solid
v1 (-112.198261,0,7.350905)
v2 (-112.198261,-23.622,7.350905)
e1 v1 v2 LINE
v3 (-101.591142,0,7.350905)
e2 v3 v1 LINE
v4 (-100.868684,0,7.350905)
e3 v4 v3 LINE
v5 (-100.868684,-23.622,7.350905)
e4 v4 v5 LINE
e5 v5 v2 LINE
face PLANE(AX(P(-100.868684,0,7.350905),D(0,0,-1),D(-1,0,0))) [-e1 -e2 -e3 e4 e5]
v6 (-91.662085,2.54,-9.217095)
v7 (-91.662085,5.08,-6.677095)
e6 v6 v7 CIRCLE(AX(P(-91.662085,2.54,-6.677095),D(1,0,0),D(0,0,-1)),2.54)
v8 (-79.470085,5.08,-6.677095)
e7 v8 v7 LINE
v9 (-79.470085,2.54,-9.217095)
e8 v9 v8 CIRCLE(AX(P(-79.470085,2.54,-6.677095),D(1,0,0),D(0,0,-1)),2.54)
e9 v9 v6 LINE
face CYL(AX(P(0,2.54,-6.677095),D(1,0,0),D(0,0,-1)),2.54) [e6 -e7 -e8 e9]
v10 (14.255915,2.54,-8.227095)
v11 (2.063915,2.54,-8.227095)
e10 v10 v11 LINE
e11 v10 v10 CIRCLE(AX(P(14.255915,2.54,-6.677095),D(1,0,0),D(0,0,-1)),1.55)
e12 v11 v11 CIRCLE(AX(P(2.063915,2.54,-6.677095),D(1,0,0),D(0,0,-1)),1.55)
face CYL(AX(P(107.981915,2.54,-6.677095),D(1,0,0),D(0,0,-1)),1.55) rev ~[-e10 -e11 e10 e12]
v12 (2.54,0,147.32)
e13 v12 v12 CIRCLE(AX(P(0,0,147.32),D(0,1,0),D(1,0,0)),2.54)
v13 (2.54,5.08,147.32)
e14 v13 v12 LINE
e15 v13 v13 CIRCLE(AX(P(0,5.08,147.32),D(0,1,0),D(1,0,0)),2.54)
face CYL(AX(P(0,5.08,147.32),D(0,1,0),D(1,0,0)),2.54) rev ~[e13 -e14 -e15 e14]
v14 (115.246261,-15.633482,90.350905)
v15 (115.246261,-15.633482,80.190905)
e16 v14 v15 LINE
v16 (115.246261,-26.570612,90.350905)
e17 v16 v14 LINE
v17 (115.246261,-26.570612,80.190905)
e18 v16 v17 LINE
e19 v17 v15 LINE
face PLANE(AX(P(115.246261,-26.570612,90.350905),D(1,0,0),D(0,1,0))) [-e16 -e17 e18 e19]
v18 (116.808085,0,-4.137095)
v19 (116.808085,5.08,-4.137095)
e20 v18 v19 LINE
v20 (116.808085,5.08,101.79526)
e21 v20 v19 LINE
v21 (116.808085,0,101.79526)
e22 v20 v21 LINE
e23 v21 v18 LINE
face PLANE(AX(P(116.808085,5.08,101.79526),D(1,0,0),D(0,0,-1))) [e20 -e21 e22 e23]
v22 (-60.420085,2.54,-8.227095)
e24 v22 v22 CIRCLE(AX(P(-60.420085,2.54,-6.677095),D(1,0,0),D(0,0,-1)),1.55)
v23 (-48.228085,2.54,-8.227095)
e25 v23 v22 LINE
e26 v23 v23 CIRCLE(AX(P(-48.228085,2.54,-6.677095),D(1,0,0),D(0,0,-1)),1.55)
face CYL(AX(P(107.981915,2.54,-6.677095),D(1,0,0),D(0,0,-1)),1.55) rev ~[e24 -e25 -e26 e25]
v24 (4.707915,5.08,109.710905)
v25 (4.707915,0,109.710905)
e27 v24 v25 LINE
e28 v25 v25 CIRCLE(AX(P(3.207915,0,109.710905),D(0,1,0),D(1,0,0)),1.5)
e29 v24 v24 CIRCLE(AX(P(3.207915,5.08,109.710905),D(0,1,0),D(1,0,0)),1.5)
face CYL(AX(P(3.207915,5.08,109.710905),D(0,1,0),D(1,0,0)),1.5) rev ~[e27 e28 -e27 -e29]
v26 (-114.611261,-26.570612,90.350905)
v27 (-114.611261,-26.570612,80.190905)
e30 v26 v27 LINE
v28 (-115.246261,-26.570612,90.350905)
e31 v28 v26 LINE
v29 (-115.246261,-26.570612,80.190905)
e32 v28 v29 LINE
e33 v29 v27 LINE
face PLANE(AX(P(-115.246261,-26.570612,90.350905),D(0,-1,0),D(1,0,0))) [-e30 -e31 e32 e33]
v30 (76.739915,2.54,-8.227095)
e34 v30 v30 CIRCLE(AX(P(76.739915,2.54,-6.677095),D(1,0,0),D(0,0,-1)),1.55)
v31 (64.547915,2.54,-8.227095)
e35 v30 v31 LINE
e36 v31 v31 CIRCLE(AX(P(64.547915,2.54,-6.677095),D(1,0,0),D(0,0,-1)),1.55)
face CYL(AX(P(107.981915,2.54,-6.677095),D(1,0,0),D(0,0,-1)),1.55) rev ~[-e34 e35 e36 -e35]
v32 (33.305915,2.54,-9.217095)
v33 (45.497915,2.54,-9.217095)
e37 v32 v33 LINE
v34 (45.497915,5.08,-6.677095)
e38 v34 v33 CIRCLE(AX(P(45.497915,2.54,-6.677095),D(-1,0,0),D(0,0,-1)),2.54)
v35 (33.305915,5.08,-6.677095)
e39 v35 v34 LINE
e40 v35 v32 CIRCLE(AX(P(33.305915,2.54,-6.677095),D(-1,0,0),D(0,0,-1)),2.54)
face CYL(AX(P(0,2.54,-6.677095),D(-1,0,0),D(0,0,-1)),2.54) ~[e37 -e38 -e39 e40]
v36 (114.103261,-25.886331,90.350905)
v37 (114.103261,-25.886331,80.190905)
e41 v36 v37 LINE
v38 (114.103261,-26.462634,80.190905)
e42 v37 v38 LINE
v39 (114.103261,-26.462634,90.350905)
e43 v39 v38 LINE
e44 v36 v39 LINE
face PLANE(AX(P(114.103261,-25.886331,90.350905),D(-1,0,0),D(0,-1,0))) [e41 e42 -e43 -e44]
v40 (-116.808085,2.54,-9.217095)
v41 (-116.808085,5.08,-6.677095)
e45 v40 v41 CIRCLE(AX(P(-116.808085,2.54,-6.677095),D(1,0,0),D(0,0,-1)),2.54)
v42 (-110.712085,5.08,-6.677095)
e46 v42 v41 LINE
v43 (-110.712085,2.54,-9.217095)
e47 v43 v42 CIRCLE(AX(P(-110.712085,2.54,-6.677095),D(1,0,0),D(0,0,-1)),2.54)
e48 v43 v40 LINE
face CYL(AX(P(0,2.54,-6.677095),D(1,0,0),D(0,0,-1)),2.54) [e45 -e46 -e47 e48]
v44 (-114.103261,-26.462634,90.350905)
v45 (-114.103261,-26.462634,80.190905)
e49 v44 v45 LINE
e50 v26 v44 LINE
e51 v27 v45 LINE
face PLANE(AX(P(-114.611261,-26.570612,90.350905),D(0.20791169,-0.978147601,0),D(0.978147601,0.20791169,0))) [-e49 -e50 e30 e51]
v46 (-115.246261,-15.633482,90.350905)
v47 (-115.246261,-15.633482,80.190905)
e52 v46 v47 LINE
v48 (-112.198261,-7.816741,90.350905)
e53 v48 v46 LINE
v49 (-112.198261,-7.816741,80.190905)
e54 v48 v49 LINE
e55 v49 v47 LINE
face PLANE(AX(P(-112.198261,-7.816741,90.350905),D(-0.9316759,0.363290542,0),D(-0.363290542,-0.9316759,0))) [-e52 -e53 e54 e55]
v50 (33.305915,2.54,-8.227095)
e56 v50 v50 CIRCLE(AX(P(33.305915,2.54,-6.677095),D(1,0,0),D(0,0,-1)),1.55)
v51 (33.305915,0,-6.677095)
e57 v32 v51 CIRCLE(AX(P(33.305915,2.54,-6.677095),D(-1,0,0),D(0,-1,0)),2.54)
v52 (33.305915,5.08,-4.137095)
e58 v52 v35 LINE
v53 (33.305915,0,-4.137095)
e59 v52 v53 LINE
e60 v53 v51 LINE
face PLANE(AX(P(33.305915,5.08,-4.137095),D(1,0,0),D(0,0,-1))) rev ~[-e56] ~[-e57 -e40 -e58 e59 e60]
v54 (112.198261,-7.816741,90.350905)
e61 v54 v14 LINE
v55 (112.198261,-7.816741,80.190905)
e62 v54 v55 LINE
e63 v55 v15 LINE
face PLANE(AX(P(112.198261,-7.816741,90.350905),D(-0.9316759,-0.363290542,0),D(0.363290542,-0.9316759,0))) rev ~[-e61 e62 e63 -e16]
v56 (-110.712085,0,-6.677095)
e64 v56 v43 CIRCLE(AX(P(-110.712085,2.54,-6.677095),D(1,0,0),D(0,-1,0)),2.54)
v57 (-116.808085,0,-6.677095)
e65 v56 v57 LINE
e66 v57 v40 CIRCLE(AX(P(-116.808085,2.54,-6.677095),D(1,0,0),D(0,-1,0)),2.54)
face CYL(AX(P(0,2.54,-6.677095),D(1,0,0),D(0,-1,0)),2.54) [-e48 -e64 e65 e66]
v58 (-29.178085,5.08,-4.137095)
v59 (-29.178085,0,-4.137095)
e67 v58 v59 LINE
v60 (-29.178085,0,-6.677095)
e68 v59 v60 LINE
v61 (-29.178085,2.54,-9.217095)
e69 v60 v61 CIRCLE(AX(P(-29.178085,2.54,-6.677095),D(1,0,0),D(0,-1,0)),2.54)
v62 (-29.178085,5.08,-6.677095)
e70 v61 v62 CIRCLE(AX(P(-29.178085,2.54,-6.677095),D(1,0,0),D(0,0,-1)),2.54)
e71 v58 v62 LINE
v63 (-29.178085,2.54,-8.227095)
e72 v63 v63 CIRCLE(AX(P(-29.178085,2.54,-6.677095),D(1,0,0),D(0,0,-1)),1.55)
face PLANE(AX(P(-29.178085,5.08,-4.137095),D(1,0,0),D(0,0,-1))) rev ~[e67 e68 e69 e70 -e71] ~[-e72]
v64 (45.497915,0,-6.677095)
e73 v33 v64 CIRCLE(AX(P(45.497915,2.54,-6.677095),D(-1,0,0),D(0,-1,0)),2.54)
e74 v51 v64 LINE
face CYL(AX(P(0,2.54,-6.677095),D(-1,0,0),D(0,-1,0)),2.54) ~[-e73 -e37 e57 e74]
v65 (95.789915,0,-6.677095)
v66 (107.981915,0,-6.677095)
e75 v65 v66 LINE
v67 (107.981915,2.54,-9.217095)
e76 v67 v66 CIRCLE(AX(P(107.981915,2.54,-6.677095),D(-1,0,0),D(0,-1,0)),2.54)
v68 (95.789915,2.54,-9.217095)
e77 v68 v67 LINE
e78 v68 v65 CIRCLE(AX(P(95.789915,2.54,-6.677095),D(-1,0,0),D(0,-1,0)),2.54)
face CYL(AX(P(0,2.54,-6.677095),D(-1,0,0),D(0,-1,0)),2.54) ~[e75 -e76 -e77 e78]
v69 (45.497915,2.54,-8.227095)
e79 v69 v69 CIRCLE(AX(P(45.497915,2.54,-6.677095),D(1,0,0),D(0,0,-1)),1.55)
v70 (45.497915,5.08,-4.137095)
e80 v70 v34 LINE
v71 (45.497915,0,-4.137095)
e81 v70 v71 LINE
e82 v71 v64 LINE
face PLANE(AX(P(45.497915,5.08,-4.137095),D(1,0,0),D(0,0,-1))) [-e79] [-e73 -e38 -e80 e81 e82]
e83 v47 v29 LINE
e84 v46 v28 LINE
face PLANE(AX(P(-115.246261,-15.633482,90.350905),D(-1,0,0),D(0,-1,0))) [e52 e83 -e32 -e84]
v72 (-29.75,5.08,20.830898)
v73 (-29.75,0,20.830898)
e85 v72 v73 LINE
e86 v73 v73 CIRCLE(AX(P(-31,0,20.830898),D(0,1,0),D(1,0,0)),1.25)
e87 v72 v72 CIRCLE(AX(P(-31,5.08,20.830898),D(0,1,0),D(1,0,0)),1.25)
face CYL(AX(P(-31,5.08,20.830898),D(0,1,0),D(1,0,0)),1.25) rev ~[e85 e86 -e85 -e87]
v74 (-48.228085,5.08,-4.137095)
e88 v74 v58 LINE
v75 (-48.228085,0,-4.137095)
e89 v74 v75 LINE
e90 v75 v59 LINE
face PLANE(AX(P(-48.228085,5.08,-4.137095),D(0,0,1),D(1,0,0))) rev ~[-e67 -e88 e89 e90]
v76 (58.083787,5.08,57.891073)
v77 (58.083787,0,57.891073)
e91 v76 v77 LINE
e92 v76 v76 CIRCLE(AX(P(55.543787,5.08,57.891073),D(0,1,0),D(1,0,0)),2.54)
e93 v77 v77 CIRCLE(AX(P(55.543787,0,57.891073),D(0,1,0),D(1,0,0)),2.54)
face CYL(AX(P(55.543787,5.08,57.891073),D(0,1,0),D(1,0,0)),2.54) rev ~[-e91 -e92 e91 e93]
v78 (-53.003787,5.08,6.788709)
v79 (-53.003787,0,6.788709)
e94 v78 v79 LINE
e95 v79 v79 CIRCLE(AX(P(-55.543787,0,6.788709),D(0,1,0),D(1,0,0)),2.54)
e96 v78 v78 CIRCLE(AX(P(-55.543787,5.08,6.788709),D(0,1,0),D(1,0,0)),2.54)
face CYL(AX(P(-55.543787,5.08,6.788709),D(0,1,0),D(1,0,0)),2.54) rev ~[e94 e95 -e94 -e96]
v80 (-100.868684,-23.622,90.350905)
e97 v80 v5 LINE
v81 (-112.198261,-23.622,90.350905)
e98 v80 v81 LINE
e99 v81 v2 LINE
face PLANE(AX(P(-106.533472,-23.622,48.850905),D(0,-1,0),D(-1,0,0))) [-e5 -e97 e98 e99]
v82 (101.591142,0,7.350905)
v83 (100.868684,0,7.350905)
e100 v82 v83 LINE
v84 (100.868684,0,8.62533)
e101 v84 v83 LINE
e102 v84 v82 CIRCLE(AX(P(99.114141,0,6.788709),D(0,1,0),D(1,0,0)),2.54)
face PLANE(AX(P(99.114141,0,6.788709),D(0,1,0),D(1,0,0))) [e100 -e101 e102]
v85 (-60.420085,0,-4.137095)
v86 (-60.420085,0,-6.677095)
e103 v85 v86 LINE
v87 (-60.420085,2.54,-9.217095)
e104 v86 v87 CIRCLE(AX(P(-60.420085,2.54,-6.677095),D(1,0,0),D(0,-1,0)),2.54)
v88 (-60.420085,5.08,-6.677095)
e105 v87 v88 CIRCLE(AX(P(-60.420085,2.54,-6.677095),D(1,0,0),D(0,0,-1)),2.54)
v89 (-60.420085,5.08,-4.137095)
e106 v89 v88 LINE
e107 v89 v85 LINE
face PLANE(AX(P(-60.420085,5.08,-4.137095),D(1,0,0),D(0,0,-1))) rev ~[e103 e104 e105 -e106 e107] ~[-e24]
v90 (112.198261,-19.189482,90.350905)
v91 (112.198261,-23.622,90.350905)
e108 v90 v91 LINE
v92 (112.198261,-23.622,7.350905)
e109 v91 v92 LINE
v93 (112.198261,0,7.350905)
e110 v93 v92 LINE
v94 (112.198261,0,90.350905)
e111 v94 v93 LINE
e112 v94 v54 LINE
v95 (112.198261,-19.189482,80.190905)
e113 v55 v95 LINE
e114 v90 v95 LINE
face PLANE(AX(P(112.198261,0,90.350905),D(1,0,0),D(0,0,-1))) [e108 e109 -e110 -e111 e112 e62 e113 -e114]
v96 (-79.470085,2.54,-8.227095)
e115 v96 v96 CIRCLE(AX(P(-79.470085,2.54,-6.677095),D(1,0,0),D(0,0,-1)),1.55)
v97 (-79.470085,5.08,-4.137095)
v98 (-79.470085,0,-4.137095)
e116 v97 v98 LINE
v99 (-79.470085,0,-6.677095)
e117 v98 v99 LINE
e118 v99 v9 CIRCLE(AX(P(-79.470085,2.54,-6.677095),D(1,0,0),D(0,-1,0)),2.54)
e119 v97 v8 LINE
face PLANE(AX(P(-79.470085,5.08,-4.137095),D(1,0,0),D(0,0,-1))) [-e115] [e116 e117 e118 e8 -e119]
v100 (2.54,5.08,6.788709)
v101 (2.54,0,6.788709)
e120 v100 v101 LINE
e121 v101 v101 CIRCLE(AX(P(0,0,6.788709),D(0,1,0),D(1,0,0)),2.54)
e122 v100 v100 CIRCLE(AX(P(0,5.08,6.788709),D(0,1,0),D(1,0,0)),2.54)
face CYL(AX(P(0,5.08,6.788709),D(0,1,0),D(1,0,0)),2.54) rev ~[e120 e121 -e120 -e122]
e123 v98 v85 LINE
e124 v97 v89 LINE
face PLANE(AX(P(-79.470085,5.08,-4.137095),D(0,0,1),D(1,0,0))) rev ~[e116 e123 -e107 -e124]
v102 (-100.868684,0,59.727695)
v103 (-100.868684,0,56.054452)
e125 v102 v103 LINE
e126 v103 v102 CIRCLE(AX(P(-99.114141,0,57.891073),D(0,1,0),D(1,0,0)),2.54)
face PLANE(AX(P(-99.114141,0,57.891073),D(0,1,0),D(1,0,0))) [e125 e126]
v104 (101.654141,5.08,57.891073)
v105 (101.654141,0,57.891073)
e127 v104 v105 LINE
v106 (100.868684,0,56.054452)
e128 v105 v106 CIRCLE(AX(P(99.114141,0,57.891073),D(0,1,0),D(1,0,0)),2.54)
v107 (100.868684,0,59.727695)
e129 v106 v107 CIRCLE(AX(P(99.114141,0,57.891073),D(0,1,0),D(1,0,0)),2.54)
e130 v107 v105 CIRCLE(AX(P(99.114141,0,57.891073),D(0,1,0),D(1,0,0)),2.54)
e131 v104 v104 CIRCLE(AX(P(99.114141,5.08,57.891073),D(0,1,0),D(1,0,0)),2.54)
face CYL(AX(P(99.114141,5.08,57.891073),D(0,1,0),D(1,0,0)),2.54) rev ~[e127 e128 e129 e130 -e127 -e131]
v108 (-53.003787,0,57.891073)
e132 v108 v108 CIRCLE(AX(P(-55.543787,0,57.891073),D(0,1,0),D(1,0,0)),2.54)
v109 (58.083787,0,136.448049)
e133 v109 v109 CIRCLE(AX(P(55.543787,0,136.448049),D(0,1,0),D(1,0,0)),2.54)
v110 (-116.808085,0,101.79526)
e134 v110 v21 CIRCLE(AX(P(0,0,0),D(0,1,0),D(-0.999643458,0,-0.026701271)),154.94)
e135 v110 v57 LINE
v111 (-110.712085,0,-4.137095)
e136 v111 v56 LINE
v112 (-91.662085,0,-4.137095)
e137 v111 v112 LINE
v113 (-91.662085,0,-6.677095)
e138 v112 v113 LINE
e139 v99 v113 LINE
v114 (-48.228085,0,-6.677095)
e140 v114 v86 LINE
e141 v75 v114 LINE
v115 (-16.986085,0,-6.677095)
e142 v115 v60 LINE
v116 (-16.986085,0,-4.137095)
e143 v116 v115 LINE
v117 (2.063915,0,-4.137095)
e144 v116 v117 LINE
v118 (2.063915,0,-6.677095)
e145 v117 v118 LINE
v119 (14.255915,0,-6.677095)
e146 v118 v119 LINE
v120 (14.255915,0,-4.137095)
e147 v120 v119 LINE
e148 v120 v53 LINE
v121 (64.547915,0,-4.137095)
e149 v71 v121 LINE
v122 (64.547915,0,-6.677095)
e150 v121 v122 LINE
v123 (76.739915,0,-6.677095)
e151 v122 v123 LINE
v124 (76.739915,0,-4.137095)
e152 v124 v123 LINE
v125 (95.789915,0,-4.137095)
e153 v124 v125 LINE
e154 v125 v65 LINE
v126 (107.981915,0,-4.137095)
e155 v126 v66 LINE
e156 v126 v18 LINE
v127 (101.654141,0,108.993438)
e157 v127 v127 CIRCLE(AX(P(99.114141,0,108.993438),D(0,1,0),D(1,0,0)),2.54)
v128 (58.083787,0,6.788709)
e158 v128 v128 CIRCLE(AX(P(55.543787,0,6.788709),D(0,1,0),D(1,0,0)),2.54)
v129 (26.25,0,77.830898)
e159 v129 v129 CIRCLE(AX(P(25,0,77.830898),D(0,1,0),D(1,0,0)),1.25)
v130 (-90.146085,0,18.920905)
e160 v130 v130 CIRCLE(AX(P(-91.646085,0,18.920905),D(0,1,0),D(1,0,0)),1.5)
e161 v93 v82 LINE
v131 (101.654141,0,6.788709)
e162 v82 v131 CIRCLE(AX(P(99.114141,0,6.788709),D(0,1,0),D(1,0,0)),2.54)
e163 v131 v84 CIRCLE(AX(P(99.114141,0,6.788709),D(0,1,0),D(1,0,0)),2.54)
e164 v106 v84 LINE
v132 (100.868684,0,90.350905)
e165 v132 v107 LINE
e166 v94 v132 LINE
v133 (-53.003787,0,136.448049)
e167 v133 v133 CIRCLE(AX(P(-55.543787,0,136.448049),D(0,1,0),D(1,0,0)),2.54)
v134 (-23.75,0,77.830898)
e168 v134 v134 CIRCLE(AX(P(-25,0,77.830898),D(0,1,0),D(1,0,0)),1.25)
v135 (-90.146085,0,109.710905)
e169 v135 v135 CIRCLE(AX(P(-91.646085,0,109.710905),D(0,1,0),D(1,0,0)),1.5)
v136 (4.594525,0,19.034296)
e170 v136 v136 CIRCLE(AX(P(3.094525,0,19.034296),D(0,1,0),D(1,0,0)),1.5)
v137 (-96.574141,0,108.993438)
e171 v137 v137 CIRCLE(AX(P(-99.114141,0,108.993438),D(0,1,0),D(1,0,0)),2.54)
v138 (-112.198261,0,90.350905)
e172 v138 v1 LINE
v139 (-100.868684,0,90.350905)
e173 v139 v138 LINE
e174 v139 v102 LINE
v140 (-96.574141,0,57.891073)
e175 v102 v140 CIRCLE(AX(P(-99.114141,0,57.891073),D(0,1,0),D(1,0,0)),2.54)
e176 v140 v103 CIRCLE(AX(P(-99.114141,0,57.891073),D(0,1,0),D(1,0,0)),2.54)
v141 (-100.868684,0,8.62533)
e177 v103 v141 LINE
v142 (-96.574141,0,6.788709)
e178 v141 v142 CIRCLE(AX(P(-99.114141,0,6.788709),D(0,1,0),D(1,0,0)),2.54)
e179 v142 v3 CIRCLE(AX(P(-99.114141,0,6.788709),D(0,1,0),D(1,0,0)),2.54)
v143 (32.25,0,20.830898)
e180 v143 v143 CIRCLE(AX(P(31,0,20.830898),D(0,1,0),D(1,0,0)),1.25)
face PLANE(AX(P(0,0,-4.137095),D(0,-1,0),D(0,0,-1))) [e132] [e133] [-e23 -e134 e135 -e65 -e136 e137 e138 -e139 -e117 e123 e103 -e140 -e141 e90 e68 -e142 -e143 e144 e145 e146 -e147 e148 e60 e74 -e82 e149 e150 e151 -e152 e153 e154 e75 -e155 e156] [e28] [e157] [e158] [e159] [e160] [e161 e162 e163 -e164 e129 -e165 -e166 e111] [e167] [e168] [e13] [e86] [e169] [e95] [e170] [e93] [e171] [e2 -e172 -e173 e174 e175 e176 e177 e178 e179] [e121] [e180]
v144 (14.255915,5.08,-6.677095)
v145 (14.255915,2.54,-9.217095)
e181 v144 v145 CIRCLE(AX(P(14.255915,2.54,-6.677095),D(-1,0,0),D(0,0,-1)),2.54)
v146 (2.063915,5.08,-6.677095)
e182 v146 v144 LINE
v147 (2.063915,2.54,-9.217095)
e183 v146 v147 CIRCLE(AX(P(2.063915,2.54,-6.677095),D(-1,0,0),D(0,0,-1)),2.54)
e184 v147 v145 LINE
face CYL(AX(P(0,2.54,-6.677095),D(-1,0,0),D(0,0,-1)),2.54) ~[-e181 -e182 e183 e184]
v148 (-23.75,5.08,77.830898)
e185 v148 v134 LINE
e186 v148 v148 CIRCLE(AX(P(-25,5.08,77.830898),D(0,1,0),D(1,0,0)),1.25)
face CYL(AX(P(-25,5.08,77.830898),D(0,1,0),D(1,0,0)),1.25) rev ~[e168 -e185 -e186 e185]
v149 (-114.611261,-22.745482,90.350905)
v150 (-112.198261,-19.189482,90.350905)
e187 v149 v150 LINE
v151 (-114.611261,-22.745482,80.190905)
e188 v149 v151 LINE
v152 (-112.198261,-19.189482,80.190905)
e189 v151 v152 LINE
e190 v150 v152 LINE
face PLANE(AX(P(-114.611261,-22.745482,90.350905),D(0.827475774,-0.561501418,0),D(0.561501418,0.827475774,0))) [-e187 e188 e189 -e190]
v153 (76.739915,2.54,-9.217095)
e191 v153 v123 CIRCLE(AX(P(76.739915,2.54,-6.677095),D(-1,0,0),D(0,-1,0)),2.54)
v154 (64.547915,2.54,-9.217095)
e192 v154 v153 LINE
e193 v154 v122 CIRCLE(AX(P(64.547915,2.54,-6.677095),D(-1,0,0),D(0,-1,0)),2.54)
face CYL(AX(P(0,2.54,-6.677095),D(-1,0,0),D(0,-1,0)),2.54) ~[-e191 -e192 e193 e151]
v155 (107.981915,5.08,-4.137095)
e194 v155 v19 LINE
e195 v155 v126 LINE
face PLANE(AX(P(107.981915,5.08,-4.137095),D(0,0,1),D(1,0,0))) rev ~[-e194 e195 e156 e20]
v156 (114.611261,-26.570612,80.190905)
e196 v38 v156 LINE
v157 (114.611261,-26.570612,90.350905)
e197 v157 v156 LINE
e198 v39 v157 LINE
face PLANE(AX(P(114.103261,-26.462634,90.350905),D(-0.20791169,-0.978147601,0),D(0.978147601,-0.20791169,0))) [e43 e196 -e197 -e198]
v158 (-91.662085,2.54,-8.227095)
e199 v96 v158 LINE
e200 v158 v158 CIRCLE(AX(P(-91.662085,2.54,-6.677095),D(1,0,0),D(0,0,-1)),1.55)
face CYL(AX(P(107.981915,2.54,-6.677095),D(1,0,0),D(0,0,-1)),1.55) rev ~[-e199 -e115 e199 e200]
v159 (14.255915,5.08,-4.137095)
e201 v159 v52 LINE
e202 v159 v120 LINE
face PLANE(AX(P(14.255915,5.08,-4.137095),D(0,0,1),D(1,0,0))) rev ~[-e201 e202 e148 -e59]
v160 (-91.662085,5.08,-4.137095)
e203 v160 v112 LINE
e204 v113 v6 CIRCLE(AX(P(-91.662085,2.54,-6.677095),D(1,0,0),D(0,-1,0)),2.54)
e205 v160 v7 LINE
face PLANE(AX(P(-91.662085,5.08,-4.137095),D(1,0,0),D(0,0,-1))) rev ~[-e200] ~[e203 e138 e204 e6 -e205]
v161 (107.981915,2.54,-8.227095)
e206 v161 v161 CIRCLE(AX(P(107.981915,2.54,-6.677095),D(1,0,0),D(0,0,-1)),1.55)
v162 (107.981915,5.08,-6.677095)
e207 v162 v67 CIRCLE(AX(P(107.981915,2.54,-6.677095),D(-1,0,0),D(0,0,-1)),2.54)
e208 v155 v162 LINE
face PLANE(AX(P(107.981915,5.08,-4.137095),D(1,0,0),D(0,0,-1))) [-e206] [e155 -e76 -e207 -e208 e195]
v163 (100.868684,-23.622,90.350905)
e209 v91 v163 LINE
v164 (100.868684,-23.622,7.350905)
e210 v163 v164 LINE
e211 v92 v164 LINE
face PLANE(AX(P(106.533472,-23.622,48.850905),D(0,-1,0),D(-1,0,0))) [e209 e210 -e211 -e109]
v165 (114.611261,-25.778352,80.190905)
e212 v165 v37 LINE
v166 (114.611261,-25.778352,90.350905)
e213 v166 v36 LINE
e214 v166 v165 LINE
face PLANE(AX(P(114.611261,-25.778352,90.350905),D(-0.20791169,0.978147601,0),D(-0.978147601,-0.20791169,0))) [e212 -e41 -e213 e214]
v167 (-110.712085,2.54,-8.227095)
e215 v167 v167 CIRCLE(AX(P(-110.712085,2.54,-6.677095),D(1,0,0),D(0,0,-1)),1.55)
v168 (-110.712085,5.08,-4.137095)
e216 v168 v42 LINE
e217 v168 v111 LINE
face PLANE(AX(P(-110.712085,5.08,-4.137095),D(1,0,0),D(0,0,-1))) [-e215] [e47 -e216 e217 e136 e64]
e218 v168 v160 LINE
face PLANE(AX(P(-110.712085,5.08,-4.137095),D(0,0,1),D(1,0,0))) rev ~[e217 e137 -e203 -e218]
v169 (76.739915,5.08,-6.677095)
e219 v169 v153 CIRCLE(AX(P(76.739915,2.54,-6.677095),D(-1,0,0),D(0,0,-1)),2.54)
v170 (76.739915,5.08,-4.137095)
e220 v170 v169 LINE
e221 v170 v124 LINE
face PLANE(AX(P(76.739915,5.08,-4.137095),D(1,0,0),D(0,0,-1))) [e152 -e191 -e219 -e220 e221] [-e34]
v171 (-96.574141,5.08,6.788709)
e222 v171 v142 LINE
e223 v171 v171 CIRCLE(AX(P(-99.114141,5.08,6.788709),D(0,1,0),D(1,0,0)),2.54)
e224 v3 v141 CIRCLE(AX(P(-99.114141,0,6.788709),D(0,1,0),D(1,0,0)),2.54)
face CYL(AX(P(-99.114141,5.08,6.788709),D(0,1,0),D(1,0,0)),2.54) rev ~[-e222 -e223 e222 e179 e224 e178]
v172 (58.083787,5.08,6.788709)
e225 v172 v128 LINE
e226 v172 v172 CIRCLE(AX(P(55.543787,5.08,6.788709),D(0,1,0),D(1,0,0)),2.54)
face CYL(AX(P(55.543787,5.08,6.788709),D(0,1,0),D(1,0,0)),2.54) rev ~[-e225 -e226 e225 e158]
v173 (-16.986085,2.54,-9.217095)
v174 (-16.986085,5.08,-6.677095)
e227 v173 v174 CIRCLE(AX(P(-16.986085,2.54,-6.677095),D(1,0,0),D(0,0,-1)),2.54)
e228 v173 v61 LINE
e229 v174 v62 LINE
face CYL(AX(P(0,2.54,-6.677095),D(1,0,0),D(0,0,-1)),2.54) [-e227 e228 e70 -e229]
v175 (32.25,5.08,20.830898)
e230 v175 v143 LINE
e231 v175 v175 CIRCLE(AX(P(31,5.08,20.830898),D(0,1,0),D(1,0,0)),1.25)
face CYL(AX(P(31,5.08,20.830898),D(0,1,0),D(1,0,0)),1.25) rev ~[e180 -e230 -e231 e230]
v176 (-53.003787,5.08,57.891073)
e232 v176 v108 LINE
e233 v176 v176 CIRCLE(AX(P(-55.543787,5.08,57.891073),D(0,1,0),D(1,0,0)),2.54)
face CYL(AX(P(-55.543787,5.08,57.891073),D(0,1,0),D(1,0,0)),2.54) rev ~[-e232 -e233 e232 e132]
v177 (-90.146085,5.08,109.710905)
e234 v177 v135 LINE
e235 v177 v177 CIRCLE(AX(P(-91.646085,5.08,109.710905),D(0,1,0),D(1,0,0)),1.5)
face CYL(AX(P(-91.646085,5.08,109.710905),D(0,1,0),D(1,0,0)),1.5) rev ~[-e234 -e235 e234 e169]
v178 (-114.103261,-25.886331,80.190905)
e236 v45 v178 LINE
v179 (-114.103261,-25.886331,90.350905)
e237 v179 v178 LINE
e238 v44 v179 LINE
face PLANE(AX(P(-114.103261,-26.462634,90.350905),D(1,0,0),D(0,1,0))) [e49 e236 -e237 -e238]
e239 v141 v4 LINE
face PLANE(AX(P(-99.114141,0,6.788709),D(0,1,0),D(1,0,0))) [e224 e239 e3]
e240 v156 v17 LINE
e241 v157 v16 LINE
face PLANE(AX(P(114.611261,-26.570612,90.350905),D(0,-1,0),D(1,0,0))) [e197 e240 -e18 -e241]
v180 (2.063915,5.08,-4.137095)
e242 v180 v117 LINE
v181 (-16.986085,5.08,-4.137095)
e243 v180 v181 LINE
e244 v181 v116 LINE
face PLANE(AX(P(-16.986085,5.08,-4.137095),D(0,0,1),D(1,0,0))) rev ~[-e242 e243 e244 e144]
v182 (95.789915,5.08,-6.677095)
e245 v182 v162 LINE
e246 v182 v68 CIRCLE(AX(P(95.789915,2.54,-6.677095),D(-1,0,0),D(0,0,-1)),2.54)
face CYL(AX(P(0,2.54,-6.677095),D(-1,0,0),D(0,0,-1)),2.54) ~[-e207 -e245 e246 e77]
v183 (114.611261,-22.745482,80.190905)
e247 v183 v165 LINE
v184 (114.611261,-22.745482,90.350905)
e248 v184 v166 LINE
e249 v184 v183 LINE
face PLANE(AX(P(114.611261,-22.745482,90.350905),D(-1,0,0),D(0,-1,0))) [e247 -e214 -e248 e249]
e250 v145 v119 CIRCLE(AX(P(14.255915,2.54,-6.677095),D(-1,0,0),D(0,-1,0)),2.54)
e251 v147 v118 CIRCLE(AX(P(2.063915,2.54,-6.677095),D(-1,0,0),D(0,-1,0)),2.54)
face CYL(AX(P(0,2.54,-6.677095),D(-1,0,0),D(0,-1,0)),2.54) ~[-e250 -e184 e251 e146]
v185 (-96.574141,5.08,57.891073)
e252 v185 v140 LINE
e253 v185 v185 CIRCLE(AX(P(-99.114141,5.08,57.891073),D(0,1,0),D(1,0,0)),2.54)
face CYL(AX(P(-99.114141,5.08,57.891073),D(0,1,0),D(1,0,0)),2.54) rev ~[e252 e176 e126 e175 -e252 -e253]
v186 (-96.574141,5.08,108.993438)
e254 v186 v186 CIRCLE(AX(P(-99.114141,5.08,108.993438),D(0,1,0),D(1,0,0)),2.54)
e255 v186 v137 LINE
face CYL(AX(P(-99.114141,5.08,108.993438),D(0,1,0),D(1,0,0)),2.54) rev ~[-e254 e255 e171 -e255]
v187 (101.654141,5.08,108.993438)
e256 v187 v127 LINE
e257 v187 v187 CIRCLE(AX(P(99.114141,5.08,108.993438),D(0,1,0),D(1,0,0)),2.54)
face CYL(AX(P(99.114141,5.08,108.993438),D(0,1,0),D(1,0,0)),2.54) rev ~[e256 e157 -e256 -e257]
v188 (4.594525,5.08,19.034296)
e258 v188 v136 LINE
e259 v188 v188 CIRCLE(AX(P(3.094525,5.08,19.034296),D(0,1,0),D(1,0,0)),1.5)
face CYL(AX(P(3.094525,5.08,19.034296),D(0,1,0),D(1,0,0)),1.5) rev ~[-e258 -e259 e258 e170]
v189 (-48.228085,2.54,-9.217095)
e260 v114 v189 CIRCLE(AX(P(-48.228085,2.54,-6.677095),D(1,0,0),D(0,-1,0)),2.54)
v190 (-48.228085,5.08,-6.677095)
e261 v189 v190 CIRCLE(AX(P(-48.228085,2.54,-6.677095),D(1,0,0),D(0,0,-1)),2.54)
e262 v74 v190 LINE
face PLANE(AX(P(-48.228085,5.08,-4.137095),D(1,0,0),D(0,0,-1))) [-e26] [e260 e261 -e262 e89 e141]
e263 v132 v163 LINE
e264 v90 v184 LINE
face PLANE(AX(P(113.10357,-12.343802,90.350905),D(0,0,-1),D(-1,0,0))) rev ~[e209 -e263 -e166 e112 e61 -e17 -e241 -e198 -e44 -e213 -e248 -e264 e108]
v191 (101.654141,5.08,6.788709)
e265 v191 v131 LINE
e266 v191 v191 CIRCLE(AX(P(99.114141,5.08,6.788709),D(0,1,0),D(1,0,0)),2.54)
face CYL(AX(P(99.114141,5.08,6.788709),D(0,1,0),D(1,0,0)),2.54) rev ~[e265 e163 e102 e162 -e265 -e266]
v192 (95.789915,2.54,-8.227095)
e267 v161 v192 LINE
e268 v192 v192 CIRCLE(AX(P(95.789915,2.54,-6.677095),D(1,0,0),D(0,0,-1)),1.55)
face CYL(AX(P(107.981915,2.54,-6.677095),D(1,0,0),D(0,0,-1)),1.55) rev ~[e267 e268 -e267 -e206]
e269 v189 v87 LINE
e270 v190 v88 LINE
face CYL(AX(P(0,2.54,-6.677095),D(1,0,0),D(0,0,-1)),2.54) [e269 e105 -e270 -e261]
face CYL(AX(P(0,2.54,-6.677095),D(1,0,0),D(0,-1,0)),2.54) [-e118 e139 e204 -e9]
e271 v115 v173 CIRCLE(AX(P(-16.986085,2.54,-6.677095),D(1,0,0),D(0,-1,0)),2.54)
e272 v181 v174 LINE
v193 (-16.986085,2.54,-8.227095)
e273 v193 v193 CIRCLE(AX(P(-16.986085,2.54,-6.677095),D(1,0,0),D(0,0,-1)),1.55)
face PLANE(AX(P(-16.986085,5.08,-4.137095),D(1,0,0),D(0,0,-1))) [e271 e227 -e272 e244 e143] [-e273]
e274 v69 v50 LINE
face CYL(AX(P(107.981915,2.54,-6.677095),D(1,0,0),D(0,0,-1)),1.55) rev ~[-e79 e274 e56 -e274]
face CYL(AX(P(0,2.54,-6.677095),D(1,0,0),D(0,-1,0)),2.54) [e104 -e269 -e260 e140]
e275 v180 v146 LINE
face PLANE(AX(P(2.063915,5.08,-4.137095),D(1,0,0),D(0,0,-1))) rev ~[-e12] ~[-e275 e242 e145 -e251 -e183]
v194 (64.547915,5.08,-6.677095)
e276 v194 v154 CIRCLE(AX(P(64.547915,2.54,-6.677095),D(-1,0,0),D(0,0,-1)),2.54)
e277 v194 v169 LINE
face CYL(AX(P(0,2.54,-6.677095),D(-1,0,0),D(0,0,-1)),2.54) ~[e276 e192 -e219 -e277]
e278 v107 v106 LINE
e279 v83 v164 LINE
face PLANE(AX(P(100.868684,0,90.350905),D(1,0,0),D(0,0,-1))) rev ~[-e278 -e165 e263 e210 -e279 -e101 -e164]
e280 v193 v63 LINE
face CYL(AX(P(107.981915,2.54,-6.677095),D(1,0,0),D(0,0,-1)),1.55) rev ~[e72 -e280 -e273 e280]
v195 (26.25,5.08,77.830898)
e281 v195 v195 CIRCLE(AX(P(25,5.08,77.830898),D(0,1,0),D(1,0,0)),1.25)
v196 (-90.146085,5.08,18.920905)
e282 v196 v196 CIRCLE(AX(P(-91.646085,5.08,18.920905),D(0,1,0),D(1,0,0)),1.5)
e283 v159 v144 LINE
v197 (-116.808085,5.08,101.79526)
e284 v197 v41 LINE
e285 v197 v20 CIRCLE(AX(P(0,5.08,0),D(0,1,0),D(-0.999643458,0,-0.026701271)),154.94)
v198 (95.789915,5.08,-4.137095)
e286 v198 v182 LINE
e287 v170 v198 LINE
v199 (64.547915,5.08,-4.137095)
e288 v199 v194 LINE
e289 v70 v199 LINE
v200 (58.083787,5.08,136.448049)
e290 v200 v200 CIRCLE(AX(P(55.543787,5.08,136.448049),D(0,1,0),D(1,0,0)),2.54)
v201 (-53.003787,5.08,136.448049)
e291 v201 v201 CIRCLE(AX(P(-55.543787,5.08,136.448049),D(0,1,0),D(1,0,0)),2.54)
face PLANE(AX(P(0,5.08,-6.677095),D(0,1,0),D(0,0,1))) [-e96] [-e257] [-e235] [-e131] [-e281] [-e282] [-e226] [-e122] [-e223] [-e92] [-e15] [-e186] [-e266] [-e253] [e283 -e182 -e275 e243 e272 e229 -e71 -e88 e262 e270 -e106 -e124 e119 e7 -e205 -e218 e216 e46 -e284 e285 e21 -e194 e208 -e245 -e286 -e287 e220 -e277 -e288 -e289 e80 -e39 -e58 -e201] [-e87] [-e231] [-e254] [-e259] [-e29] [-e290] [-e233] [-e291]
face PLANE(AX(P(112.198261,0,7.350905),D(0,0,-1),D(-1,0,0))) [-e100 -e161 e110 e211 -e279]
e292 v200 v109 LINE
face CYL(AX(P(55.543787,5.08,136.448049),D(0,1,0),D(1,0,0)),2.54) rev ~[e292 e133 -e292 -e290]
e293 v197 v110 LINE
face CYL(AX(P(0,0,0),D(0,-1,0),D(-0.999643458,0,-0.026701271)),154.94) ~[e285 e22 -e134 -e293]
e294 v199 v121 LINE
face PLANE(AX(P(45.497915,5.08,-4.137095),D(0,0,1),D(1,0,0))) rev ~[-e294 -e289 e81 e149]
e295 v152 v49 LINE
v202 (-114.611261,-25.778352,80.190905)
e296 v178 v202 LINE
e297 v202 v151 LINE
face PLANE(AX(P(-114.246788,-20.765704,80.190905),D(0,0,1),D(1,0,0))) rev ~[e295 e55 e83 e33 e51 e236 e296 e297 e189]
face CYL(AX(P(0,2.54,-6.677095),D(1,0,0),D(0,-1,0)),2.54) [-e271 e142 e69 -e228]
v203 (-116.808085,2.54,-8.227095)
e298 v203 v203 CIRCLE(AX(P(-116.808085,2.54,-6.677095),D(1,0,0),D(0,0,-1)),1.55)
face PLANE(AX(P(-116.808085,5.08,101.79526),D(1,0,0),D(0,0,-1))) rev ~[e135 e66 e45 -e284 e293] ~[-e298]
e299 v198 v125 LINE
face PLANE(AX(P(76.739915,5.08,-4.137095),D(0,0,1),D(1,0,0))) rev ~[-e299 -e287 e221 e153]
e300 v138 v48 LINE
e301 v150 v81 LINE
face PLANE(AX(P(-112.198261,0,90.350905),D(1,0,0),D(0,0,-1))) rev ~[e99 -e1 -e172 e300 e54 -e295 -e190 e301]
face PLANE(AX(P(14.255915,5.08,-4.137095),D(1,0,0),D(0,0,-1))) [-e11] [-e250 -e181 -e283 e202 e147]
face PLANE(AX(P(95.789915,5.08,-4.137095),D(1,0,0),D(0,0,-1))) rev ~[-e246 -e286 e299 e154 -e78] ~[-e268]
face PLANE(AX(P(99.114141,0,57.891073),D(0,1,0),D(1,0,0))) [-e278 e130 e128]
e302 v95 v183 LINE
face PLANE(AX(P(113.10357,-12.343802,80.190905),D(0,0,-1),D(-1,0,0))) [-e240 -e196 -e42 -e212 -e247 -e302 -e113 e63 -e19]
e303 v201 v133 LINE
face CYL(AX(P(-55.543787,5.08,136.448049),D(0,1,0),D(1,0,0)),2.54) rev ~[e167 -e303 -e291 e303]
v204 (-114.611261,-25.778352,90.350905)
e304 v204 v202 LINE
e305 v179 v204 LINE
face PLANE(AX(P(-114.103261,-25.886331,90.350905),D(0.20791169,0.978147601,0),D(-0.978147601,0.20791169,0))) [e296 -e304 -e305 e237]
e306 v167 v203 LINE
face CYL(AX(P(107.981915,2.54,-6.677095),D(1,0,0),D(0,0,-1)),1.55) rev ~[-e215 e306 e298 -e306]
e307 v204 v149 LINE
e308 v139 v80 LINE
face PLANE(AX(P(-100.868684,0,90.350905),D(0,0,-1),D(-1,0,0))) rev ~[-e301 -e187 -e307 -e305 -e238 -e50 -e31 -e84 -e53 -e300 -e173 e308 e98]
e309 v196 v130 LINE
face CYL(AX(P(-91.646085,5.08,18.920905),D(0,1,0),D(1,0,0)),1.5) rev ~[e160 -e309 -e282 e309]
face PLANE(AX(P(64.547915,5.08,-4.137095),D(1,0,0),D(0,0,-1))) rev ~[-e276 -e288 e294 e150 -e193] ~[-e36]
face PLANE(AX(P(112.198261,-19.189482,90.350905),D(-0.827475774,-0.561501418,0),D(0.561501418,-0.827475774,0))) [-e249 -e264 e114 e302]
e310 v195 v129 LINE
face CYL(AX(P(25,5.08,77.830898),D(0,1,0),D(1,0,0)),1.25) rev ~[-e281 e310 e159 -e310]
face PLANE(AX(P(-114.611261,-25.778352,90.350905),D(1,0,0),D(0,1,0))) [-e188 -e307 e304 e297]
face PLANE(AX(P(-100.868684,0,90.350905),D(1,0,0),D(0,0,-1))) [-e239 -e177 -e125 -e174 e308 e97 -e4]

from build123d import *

# Parameters (mm, degrees)
BOSS_EXTRUDE1_DEPTH      = 5.08
SKETCH2_W                = 11.329576632
SKETCH2_H                = 83
BOSS_EXTRUDE2_DEPTH      = 23.622
BOSS_EXTRUDE3_DEPTH      = 154.884757
BOSS_EXTRUDE3_DEPTH_BACK = 154.884757
SKETCH4_W                = 19.05
SKETCH4_H                = 5.08
CUT_EXTRUDE2_DEPTH       = 5.08
SKETCH5_R                = 1.25
CUT_EXTRUDE3_DEPTH       = 5.08
SKETCH6_W                = 87.378176536
SKETCH6_H                = 116.226136144
CUT_EXTRUDE5_DEPTH       = 5.08
SKETCH7_R                = 2.54
CUT_EXTRUDE6_DEPTH       = 5.08
SKETCH8_R                = 1.55
CUT_EXTRUDE7_DEPTH       = 224.79
BOSS_EXTRUDE4_DEPTH      = 10.16
BOSS_EXTRUDE5_DEPTH      = 10.16
SKETCH12_R               = 1.5
CUT_EXTRUDE8_DEPTH       = 5.08


with BuildPart() as part:
    # Sketch1 → Boss-Extrude1 (new body)
    with BuildSketch(Plane(origin=(0, 0, 0), x_dir=(1, 0, 0), z_dir=(0, 1, 0))):
        with BuildLine():
            ThreePointArc((154.94, 0), (154.926188711, 2.068731835), (154.884757307, 4.137094858))
            Line((154.884757307, 4.137094858), (-154.884757307, 4.137094858))
            ThreePointArc((-154.884757307, 4.137094858), (-2.068731835, -154.926188711), (154.94, 0))
        make_face()
    extrude(amount=BOSS_EXTRUDE1_DEPTH)

    # Sketch2 → Boss-Extrude2 (add)
    with BuildSketch(Plane(origin=(0, 0, 0), x_dir=(-1, 0, 0), z_dir=(0, -1, 0))):
        with Locations((-106.53347234, -48.850905142)):
            Rectangle(SKETCH2_W, SKETCH2_H)
        with Locations((106.53347234, -48.850905142)):
            Rectangle(SKETCH2_W, SKETCH2_H)
    extrude(amount=BOSS_EXTRUDE2_DEPTH)

    # Sketch3 → Boss-Extrude3 (add, two sides)
    with BuildSketch(Plane(origin=(0, 0, 0), x_dir=(0, 0, -1), z_dir=(1, 0, 0))) as boss_extrude3_sk:
        with BuildLine():
            ThreePointArc((9.217094858, 2.54), (8.473146082, 4.336051224), (6.677094858, 5.08))
            Line((6.677094858, 5.08), (6.677094858, 0))
            ThreePointArc((6.677094858, 0), (8.473146082, 0.743948776), (9.217094858, 2.54))
        make_face()
        with BuildLine():
            Line((6.677094858, 0), (6.677094858, 5.08))
            ThreePointArc((6.677094858, 5.08), (4.881043633, 4.336051224), (4.137094858, 2.54))
            ThreePointArc((4.137094858, 2.54), (4.881043633, 0.743948776), (6.677094858, 0))
        make_face()
        with BuildLine():
            Line((6.677094858, 5.08), (4.137094858, 5.08))
            Line((4.137094858, 5.08), (4.137094858, 2.54))
            ThreePointArc((4.137094858, 2.54), (4.881043633, 4.336051224), (6.677094858, 5.08))
        make_face()
        with BuildLine():
            ThreePointArc((6.677094858, 0), (4.881043633, 0.743948776), (4.137094858, 2.54))
            Line((4.137094858, 2.54), (4.137094858, 0))
            Line((4.137094858, 0), (6.677094858, 0))
        make_face()
    extrude(amount=BOSS_EXTRUDE3_DEPTH)
    extrude(boss_extrude3_sk.sketch, amount=-BOSS_EXTRUDE3_DEPTH_BACK)

    # Sketch4 → Cut-Extrude2 (cut)
    with BuildSketch(Plane(origin=(0, 5.08, 0), x_dir=(1, 0, 0), z_dir=(0, 1, 0))):
        with Locations((-132.429084549, 6.677094858)):
            Rectangle(SKETCH4_W, SKETCH4_H)
        with Locations((-101.187084549, 6.677094858)):
            Rectangle(SKETCH4_W, SKETCH4_H)
        with Locations((-69.945084549, 6.677094858)):
            Rectangle(SKETCH4_W, SKETCH4_H)
        with Locations((-38.703084549, 6.677094858)):
            Rectangle(SKETCH4_W, SKETCH4_H)
        with Locations((-7.461084549, 6.677094858)):
            Rectangle(SKETCH4_W, SKETCH4_H)
        with Locations((23.780915451, 6.677094858)):
            Rectangle(SKETCH4_W, SKETCH4_H)
        with Locations((55.022915451, 6.677094858)):
            Rectangle(SKETCH4_W, SKETCH4_H)
        with Locations((86.264915451, 6.677094858)):
            Rectangle(SKETCH4_W, SKETCH4_H)
        with Locations((117.506915451, 6.677094858)):
            Rectangle(SKETCH4_W, SKETCH4_H)
        with Locations((148.748915451, 6.677094858)):
            Rectangle(SKETCH4_W, SKETCH4_H)
    extrude(amount=-CUT_EXTRUDE2_DEPTH, mode=Mode.SUBTRACT)

    # Sketch5 → Cut-Extrude3 (cut)
    with BuildSketch(Plane(origin=(0, 5.08, 0), x_dir=(1, 0, 0), z_dir=(0, 1, 0))):
        with Locations((-31, -20.830897674)):
            Circle(SKETCH5_R)
        with Locations((-25, -77.830897674)):
            Circle(SKETCH5_R)
        with Locations((31, -20.830897674)):
            Circle(SKETCH5_R)
        with Locations((25, -77.830897674)):
            Circle(SKETCH5_R)
    extrude(amount=-CUT_EXTRUDE3_DEPTH, mode=Mode.SUBTRACT)

    # Sketch6 → Cut-Extrude5 (cut)
    with BuildSketch(Plane(origin=(0, 5.08, 0), x_dir=(1, 0, 0), z_dir=(0, 1, 0))):
        with Locations((160.497172817, -43.682192054)):
            Rectangle(SKETCH6_W, SKETCH6_H)
        with Locations((-160.497172817, -43.682192054)):
            Rectangle(SKETCH6_W, SKETCH6_H)
    extrude(amount=-CUT_EXTRUDE5_DEPTH, mode=Mode.SUBTRACT)

    # Sketch7 → Cut-Extrude6 (cut)
    with BuildSketch(Plane(origin=(0, 5.08, 0), x_dir=(1, 0, 0), z_dir=(0, 1, 0))):
        with Locations((0, -147.32)):
            Circle(SKETCH7_R)
        with Locations((0, -6.788708839)):
            Circle(SKETCH7_R)
        with Locations((55.543786685, -136.448049311)):
            Circle(SKETCH7_R)
        with Locations((-55.543786685, -136.448049311)):
            Circle(SKETCH7_R)
        with Locations((-99.114141025, -108.993437642)):
            Circle(SKETCH7_R)
        with Locations((-99.114141025, -6.788708839)):
            Circle(SKETCH7_R)
        with Locations((99.114141025, -6.788708839)):
            Circle(SKETCH7_R)
        with Locations((-55.543786685, -6.788708839)):
            Circle(SKETCH7_R)
        with Locations((55.543786685, -6.788708839)):
            Circle(SKETCH7_R)
        with Locations((99.114141025, -108.993437642)):
            Circle(SKETCH7_R)
        with Locations((-99.114141025, -57.89107324)):
            Circle(SKETCH7_R)
        with Locations((99.114141025, -57.89107324)):
            Circle(SKETCH7_R)
        with Locations((55.543786685, -57.89107324)):
            Circle(SKETCH7_R)
        with Locations((-55.543786685, -57.89107324)):
            Circle(SKETCH7_R)
    extrude(amount=-CUT_EXTRUDE6_DEPTH, mode=Mode.SUBTRACT)

    # Sketch8 → Cut-Extrude7 (cut)
    with BuildSketch(Plane(origin=(107.981915451, 0, 0), x_dir=(0, 0, -1), z_dir=(1, 0, 0))):
        with Locations((6.677094858, 2.54)):
            Circle(SKETCH8_R)
    extrude(amount=-CUT_EXTRUDE7_DEPTH, mode=Mode.SUBTRACT)

    # Sketch9 → Boss-Extrude4 (add)
    with BuildSketch(Plane.XY.offset(90.350905142)):
        Polygon((115.246260656, -15.633482352), (112.198260656, -15.633482352), (112.198260656, -19.189482352), (114.611260656, -22.745482352), (114.611260656, -25.77835243), (114.103260656, -25.886331163), (114.103260656, -26.46263354), (114.611260656, -26.570612273), (115.246260656, -26.570612273), align=None)
        Polygon((-114.611260656, -25.77835243), (-114.611260656, -22.745482352), (-112.198260656, -19.189482352), (-112.198260656, -15.633482352), (-115.246260656, -15.633482352), (-115.246260656, -26.570612273), (-114.611260656, -26.570612273), (-114.103260656, -26.46263354), (-114.103260656, -25.886331163), align=None)
    extrude(amount=-BOSS_EXTRUDE4_DEPTH)

    # Sketch11 → Boss-Extrude5 (add)
    with BuildSketch(Plane.XY.offset(90.350905142)):
        Polygon((112.198260656, -7.816741176), (115.246260656, -15.633482352), (112.198260656, -15.633482352), align=None)
        Polygon((-115.246260656, -15.633482352), (-112.198260656, -15.633482352), (-112.198260656, -7.816741176), align=None)
    extrude(amount=-BOSS_EXTRUDE5_DEPTH)

    # Sketch12 → Cut-Extrude8 (cut)
    with BuildSketch(Plane(origin=(0, 5.08, 0), x_dir=(1, 0, 0), z_dir=(0, 1, 0))):
        with Locations((-91.646084549, -18.920905142)):
            Circle(SKETCH12_R)
        with Locations((-91.646084549, -109.710905142)):
            Circle(SKETCH12_R)
        with Locations((3.207915451, -109.710905142)):
            Circle(SKETCH12_R)
        with Locations((3.094524951, -19.034295642)):
            Circle(SKETCH12_R)
    extrude(amount=-CUT_EXTRUDE8_DEPTH, mode=Mode.SUBTRACT)


solid = part.part
